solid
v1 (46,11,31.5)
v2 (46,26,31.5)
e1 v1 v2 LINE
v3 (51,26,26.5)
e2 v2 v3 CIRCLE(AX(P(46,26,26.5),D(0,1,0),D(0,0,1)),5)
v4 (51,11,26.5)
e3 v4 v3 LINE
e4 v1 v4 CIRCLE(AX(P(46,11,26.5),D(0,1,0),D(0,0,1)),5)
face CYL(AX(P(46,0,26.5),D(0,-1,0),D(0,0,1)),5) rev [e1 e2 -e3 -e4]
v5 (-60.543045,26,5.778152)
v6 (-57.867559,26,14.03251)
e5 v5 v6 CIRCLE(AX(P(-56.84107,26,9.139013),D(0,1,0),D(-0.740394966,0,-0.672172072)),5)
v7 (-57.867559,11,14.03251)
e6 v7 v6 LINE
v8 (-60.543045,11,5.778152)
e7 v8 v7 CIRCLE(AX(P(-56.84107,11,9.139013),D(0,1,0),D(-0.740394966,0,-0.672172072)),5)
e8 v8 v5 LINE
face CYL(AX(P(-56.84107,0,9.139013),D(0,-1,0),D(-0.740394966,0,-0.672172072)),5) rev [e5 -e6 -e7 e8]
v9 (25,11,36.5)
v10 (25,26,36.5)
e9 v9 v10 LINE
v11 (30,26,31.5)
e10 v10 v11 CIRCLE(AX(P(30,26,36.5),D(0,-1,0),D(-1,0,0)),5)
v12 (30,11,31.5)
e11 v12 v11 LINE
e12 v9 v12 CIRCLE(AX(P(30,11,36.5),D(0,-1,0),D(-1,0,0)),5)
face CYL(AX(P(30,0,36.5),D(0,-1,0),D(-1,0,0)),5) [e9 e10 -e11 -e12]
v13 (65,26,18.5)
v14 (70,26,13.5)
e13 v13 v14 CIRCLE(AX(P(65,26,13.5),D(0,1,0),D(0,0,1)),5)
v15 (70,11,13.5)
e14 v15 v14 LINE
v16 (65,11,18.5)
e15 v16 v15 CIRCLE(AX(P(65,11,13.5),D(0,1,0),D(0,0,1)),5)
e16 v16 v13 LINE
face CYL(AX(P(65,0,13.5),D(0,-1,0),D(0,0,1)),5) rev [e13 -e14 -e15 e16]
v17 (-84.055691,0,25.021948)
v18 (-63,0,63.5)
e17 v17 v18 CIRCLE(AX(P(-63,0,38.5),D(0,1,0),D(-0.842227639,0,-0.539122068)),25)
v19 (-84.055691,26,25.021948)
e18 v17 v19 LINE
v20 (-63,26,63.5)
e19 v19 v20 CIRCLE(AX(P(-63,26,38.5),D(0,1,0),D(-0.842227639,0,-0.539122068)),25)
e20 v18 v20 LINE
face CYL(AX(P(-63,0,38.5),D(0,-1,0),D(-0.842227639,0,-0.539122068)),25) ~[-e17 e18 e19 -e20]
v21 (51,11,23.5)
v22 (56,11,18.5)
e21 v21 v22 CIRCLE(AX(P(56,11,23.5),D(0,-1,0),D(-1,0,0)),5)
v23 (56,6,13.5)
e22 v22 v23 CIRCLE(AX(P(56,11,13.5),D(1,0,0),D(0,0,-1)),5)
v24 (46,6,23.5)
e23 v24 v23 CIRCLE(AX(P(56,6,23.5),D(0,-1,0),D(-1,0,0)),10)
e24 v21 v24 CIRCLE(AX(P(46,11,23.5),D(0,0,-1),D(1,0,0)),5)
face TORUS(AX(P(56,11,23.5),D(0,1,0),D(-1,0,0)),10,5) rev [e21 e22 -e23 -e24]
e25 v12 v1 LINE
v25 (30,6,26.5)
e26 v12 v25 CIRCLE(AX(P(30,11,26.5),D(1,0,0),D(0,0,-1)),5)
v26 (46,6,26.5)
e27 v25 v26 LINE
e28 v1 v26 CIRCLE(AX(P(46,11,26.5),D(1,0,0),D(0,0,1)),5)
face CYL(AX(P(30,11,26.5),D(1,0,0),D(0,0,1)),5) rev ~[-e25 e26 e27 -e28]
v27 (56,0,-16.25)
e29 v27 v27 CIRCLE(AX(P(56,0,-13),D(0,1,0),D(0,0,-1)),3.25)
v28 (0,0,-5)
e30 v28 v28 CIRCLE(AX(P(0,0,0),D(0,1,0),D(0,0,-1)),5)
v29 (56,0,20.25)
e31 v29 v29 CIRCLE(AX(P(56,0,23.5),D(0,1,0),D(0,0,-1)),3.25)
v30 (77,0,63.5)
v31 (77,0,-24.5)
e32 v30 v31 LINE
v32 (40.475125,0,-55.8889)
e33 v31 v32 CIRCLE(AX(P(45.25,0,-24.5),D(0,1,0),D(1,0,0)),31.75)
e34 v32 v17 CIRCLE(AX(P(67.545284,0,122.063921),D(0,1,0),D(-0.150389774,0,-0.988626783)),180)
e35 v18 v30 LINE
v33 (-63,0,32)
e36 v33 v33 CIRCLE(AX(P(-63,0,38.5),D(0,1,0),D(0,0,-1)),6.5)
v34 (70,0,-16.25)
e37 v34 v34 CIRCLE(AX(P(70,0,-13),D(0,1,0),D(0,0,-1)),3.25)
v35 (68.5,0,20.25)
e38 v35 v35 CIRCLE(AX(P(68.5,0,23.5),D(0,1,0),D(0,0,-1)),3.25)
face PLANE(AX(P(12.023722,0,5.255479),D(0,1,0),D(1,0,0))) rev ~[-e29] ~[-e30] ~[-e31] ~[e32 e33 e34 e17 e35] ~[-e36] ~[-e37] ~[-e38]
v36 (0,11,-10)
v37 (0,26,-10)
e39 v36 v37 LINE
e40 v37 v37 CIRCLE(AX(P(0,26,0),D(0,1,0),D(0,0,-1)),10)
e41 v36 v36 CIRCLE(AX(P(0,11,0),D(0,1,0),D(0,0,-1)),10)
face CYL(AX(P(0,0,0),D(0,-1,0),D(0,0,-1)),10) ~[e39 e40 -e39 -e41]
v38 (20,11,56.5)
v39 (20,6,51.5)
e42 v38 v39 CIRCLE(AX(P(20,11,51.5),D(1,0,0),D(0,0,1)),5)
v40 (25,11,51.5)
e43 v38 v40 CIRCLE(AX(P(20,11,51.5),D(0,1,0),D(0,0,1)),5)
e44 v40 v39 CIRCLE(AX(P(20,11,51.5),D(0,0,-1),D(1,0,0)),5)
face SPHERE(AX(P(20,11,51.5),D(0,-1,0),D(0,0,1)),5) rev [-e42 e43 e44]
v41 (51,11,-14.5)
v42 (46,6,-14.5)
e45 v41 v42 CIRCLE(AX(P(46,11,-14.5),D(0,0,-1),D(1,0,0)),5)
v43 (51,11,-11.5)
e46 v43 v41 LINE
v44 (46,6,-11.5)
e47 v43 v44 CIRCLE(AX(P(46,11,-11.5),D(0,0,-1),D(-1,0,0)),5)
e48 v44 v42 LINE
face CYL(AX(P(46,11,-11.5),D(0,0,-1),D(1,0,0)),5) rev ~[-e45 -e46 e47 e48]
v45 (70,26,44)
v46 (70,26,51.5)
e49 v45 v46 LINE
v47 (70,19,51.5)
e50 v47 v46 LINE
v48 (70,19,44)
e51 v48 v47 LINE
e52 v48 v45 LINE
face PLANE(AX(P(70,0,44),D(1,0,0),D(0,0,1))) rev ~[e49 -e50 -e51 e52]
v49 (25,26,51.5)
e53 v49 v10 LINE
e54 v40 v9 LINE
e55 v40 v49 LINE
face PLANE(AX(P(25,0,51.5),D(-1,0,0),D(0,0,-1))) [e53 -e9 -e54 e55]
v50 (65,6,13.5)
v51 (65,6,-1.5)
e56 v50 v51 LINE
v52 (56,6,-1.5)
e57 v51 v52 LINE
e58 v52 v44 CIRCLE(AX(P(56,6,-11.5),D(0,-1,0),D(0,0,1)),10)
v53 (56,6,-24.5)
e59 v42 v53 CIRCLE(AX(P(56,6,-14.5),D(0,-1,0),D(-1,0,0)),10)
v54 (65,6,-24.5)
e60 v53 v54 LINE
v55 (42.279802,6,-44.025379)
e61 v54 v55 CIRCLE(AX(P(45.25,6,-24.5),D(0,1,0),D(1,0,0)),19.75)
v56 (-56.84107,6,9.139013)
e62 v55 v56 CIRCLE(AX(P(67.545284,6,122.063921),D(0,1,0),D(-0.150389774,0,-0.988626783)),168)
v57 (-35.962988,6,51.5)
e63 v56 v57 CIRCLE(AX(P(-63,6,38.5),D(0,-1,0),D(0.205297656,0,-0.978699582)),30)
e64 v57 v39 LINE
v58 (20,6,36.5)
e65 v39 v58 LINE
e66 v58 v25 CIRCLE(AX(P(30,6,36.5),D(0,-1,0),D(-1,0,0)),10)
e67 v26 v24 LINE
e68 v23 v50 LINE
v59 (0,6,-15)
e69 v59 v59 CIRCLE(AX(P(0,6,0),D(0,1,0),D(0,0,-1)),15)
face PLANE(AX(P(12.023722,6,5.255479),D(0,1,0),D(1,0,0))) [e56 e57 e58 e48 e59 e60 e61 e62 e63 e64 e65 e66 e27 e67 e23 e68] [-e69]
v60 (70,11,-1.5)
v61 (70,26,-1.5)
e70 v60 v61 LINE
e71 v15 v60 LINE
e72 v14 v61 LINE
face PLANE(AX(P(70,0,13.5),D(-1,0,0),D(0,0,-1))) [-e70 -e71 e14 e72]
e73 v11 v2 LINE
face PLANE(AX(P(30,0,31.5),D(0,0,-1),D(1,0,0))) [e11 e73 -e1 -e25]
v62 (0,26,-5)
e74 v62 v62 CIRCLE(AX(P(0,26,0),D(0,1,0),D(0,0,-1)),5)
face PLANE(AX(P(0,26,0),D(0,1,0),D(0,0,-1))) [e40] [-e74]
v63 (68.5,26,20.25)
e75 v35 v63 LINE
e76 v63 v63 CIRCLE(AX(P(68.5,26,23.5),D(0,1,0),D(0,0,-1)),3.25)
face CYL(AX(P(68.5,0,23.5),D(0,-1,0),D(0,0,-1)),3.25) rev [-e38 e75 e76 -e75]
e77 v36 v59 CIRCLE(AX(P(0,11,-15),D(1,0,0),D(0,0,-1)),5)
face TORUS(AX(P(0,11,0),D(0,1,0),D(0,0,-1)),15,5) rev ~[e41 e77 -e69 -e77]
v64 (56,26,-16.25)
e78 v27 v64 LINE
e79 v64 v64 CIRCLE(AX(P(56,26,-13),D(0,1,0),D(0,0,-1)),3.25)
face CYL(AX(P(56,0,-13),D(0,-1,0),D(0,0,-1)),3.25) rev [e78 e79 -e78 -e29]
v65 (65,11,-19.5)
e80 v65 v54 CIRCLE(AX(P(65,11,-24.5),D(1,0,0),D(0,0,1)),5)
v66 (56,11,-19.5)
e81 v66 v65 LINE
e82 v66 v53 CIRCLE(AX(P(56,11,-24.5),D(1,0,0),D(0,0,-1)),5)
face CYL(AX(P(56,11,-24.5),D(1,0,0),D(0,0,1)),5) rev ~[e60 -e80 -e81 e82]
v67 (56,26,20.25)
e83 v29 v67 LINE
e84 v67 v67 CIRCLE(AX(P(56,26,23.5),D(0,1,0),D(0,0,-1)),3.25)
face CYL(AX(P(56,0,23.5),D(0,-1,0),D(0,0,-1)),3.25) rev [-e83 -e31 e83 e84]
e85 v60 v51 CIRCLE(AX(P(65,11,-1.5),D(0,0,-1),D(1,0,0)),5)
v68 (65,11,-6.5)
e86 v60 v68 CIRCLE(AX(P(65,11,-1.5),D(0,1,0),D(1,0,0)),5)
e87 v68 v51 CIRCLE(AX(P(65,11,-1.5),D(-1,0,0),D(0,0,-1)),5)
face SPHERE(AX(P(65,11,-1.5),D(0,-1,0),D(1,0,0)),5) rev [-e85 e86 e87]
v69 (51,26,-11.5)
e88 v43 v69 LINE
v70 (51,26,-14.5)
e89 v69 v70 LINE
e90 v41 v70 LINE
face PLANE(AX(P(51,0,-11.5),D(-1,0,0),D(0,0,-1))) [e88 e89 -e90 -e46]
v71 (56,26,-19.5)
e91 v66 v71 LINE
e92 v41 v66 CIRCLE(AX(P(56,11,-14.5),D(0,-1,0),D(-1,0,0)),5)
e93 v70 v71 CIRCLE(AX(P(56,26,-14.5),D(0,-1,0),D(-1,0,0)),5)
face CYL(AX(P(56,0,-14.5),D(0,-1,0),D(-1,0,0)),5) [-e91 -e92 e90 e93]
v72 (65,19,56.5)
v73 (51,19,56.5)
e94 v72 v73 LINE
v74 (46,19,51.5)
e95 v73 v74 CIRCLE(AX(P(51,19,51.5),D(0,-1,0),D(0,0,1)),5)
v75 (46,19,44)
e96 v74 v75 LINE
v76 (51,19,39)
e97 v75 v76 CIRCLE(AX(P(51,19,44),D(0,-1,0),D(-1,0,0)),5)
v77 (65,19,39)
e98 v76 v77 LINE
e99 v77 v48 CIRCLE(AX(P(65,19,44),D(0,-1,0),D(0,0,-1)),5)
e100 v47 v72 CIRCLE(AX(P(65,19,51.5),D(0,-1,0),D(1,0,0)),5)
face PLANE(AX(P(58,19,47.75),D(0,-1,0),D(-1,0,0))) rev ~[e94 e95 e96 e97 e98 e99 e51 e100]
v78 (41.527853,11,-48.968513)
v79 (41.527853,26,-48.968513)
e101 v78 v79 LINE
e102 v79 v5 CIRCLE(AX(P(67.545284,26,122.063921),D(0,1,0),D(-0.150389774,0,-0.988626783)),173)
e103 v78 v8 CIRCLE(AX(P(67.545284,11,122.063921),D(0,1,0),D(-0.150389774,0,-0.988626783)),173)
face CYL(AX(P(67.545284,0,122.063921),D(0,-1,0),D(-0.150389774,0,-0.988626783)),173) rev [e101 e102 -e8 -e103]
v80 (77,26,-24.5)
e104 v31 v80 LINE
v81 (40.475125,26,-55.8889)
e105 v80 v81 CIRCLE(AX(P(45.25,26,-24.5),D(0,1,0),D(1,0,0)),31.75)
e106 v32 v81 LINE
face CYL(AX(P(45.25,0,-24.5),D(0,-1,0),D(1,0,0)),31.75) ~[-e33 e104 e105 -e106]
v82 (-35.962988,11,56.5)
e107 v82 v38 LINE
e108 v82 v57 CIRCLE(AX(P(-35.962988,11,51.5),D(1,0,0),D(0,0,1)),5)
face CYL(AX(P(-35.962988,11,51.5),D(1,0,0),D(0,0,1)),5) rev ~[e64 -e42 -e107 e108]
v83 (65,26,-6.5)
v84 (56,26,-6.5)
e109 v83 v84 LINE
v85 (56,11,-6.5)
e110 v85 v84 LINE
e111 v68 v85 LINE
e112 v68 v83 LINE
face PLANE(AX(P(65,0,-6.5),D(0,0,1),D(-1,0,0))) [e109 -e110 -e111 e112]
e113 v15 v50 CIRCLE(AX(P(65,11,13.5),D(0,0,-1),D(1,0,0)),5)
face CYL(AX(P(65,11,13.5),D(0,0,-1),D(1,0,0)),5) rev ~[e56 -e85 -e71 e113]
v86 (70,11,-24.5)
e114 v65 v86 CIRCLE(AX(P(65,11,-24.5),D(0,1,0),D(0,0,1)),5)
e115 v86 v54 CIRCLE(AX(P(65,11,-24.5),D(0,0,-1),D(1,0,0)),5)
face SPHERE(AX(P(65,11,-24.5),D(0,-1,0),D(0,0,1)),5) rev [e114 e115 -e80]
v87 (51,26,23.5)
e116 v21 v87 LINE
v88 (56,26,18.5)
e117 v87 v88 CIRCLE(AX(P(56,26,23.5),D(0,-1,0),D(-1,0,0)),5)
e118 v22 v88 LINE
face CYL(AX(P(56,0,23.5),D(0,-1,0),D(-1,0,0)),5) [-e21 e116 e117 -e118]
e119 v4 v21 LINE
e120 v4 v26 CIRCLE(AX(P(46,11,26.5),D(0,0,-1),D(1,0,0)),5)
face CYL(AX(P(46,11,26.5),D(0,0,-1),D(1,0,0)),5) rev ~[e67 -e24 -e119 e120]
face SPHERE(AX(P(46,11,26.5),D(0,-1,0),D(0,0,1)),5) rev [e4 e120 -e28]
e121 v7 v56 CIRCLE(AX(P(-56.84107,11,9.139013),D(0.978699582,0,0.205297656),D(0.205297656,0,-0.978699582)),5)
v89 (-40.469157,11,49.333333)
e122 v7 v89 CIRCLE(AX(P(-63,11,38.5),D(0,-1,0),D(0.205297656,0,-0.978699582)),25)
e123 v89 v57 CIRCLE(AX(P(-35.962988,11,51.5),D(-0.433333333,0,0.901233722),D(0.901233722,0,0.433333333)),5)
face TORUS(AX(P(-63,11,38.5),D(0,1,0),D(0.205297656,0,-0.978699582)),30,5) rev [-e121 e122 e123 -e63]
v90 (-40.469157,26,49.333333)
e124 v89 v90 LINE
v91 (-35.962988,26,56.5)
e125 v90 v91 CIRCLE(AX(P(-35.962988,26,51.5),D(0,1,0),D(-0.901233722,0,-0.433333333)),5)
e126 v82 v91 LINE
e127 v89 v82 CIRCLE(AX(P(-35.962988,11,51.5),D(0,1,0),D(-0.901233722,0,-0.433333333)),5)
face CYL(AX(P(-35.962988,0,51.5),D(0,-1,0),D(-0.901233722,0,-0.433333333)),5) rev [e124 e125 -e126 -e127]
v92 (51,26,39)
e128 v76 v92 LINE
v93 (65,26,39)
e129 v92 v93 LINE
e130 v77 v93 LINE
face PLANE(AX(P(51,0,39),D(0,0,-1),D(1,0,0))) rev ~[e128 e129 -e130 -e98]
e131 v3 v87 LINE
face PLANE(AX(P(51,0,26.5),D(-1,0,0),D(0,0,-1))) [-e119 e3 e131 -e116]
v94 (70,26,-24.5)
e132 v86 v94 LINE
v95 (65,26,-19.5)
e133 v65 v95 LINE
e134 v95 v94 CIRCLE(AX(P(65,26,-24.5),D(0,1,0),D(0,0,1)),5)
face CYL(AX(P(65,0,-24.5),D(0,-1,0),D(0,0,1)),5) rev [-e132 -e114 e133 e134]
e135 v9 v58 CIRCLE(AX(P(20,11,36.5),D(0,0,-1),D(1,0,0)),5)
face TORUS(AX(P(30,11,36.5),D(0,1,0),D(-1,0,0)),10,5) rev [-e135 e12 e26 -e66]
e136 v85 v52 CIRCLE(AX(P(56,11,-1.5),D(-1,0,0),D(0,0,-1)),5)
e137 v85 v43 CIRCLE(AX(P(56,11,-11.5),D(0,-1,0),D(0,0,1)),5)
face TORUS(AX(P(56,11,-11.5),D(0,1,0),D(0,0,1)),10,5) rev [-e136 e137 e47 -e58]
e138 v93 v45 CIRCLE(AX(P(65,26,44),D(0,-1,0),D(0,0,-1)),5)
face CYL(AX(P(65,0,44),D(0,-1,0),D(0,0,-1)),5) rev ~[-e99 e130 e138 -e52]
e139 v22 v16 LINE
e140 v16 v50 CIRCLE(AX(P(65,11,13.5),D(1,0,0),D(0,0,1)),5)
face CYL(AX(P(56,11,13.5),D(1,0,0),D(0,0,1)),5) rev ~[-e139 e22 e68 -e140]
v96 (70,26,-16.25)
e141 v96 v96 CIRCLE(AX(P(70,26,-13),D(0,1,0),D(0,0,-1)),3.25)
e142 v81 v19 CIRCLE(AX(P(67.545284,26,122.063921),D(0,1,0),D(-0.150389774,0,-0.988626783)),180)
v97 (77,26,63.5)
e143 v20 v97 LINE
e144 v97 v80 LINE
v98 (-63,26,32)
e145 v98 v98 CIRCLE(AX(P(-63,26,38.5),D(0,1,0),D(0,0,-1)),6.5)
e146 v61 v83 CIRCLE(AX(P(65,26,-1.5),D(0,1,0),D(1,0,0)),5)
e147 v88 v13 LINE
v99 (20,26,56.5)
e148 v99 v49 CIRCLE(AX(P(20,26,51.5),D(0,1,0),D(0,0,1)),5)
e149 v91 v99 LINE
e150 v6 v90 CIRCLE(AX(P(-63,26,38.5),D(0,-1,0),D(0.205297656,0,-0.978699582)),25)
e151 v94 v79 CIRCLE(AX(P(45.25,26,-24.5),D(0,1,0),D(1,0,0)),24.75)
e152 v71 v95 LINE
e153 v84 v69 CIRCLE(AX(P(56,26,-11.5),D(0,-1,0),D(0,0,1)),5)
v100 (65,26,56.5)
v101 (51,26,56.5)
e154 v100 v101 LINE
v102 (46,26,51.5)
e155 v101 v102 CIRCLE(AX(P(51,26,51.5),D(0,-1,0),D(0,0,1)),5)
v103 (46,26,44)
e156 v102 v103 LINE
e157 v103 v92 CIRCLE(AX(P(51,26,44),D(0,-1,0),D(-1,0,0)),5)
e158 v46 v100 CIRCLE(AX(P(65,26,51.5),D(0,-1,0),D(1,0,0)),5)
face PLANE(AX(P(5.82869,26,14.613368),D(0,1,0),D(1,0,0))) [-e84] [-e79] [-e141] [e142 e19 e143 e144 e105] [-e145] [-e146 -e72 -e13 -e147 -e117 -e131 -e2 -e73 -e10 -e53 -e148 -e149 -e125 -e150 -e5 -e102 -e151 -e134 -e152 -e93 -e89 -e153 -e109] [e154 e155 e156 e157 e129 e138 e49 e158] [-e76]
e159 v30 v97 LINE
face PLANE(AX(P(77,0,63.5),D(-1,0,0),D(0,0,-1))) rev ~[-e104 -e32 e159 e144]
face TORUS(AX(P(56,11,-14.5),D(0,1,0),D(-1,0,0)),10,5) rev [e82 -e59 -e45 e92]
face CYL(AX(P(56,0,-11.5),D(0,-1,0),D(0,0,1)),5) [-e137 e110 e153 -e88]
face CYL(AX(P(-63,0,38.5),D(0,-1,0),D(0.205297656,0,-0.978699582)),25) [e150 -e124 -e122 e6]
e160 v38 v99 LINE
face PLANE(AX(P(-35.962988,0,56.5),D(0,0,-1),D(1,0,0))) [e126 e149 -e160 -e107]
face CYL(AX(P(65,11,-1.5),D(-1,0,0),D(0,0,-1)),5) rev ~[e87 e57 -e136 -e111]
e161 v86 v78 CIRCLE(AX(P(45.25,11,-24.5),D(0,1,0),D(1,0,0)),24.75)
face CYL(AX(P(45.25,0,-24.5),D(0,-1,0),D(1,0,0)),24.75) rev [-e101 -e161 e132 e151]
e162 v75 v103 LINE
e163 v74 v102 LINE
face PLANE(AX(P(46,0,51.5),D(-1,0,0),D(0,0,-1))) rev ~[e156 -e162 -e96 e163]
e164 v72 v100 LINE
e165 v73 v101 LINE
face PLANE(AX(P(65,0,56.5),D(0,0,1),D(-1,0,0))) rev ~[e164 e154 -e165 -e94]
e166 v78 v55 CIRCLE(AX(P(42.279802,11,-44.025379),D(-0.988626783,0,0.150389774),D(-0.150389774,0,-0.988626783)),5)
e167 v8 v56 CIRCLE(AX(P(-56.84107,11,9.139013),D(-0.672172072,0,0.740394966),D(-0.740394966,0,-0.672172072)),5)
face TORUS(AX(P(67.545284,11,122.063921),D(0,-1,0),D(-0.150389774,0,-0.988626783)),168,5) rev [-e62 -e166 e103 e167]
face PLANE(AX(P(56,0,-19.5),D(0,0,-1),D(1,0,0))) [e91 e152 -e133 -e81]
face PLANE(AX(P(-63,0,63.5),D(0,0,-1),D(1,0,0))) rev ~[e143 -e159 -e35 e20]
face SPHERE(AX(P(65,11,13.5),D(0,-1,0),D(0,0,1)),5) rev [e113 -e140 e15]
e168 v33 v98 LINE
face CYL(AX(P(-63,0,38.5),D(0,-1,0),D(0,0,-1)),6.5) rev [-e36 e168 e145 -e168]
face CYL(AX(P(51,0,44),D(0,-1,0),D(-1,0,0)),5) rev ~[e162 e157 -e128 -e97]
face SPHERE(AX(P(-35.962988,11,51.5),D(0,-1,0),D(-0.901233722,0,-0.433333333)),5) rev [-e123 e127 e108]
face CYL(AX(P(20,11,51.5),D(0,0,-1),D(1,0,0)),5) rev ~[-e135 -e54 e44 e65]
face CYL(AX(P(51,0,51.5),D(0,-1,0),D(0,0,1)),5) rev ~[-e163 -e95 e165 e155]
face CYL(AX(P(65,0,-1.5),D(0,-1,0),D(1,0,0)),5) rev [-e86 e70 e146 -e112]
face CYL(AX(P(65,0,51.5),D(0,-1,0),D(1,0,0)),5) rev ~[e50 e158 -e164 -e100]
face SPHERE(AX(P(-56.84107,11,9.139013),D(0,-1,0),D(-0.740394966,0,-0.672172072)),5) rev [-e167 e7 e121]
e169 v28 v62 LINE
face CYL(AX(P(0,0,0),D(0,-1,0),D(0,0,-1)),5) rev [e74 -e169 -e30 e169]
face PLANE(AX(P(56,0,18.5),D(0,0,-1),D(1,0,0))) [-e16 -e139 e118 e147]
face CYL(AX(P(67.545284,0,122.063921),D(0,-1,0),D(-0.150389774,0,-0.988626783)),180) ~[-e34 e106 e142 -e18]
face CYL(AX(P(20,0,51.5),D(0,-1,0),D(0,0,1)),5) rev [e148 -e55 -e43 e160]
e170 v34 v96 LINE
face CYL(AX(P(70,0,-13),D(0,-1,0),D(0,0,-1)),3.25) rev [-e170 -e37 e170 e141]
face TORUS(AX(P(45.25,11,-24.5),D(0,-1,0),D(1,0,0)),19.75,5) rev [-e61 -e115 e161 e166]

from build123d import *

# Parameters (mm, degrees)
SKETCH1_R             = 6.5
SKETCH1_R_2           = 3.25
BOSS_EXTRUDE1_DEPTH   = 26
SKETCH1_R_3           = 10
SKETCH1_R_4           = 5
BOSS_EXTRUDE1_2_DEPTH = 26
BOSS_EXTRUDE2_DEPTH   = 19
SKETCH1_4_R           = 10
BOSS_EXTRUDE3_DEPTH   = 6
FILLET1_R             = 5


with BuildPart() as part:
    # Sketch1 → Boss-Extrude1 (new body)
    with BuildSketch(Plane(origin=(0, 0, 0), x_dir=(1, 0, 0), z_dir=(0, 1, 0))):
        with BuildLine():
            ThreePointArc((-84.055690971, -25.021948297), (-84.931156976, -50.501014695), (-63, -63.5))
            Line((-63, -63.5), (77, -63.5))
            Line((77, -63.5), (77, 24.5))
            ThreePointArc((77, 24.5), (65.94372137, 48.579709215), (40.47512467, 55.888900356))
            ThreePointArc((40.47512467, 55.888900356), (-30.523492454, 28.874858685), (-84.055690971, -25.021948297))
        make_face()
        with Locations((-63, -38.5)):
            Circle(SKETCH1_R, mode=Mode.SUBTRACT)
        with BuildLine():
            Line((65, -56.5), (51, -56.5))
            ThreePointArc((51, -56.5), (47.464466094, -55.035533906), (46, -51.5))
            Line((46, -51.5), (46, -44))
            ThreePointArc((46, -44), (47.464466094, -40.464466094), (51, -39))
            Line((51, -39), (65, -39))
            ThreePointArc((65, -39), (68.535533906, -40.464466094), (70, -44))
            Line((70, -44), (70, -51.5))
            ThreePointArc((70, -51.5), (68.535533906, -55.035533906), (65, -56.5))
        make_face(mode=Mode.SUBTRACT)
        with Locations((56, -23.5)):
            Circle(SKETCH1_R_2, mode=Mode.SUBTRACT)
        with Locations((68.5, -23.5)):
            Circle(SKETCH1_R_2, mode=Mode.SUBTRACT)
        with BuildLine():
            Line((20, -56.5), (-35.962988331, -56.5))
            ThreePointArc((-35.962988331, -56.5), (-40.195796697, -54.161453237), (-40.469156942, -49.333333333))
            ThreePointArc((-40.469156942, -49.333333333), (-40.575652719, -27.447912005), (-57.867558599, -14.032510442))
            ThreePointArc((-57.867558599, -14.032510442), (-61.597455339, -10.680700417), (-60.54304515, -5.778152172))
            ThreePointArc((-60.54304515, -5.778152172), (-14.225405457, 30.391169029), (41.527853089, 48.968512876))
            ThreePointArc((41.527853089, 48.968512876), (61.381326107, 43.270796947), (70, 24.5))
            ThreePointArc((70, 24.5), (68.535533906, 20.964466094), (65, 19.5))
            Line((65, 19.5), (56, 19.5))
            ThreePointArc((56, 19.5), (52.464466094, 18.035533906), (51, 14.5))
            Line((51, 14.5), (51, 11.5))
            ThreePointArc((51, 11.5), (52.464466094, 7.964466094), (56, 6.5))
            Line((56, 6.5), (65, 6.5))
            ThreePointArc((65, 6.5), (68.535533906, 5.035533906), (70, 1.5))
            Line((70, 1.5), (70, -13.5))
            ThreePointArc((70, -13.5), (68.535533906, -17.035533906), (65, -18.5))
            Line((65, -18.5), (56, -18.5))
            ThreePointArc((56, -18.5), (52.464466094, -19.964466094), (51, -23.5))
            Line((51, -23.5), (51, -26.5))
            ThreePointArc((51, -26.5), (49.535533906, -30.035533906), (46, -31.5))
            Line((46, -31.5), (30, -31.5))
            ThreePointArc((30, -31.5), (26.464466094, -32.964466094), (25, -36.5))
            Line((25, -36.5), (25, -51.5))
            ThreePointArc((25, -51.5), (23.535533906, -55.035533906), (20, -56.5))
        make_face(mode=Mode.SUBTRACT)
        with Locations((56, 13)):
            Circle(SKETCH1_R_2, mode=Mode.SUBTRACT)
        with Locations((70, 13)):
            Circle(SKETCH1_R_2, mode=Mode.SUBTRACT)
    extrude(amount=BOSS_EXTRUDE1_DEPTH)

    # Sketch1<3> → Boss-Extrude2 (add)
    with BuildSketch(Plane(origin=(0, 0, 0), x_dir=(1, 0, 0), z_dir=(0, 1, 0))):
        with BuildLine():
            ThreePointArc((46, -51.5), (47.464466094, -55.035533906), (51, -56.5))
            Line((51, -56.5), (65, -56.5))
            ThreePointArc((65, -56.5), (68.535533906, -55.035533906), (70, -51.5))
            Line((70, -51.5), (70, -44))
            ThreePointArc((70, -44), (68.535533906, -40.464466094), (65, -39))
            Line((65, -39), (51, -39))
            ThreePointArc((51, -39), (47.464466094, -40.464466094), (46, -44))
            Line((46, -44), (46, -51.5))
        make_face()
    extrude(amount=BOSS_EXTRUDE2_DEPTH)



with BuildPart() as body_2:
    # Sketch1 → Boss-Extrude1 2 (new body)
    with BuildSketch(Plane(origin=(0, 0, 0), x_dir=(1, 0, 0), z_dir=(0, 1, 0))):
        Circle(SKETCH1_R_3)
        Circle(SKETCH1_R_4, mode=Mode.SUBTRACT)
    extrude(amount=BOSS_EXTRUDE1_2_DEPTH)


with BuildPart() as part_1:
    add(part.part)

    add(body_2.part)  # Boss-Extrude3 merges body 2
    # Sketch1<4> → Boss-Extrude3 (add)
    with BuildSketch(Plane(origin=(0, 0, 0), x_dir=(1, 0, 0), z_dir=(0, 1, 0))):
        with BuildLine():
            ThreePointArc((-40.469156942, -49.333333333), (-40.195796697, -54.161453237), (-35.962988331, -56.5))
            Line((-35.962988331, -56.5), (20, -56.5))
            ThreePointArc((20, -56.5), (23.535533906, -55.035533906), (25, -51.5))
            Line((25, -51.5), (25, -36.5))
            ThreePointArc((25, -36.5), (26.464466094, -32.964466094), (30, -31.5))
            Line((30, -31.5), (46, -31.5))
            ThreePointArc((46, -31.5), (49.535533906, -30.035533906), (51, -26.5))
            Line((51, -26.5), (51, -23.5))
            ThreePointArc((51, -23.5), (52.464466094, -19.964466094), (56, -18.5))
            Line((56, -18.5), (65, -18.5))
            ThreePointArc((65, -18.5), (68.535533906, -17.035533906), (70, -13.5))
            Line((70, -13.5), (70, 1.5))
            ThreePointArc((70, 1.5), (68.535533906, 5.035533906), (65, 6.5))
            Line((65, 6.5), (56, 6.5))
            ThreePointArc((56, 6.5), (52.464466094, 7.964466094), (51, 11.5))
            Line((51, 11.5), (51, 14.5))
            ThreePointArc((51, 14.5), (52.464466094, 18.035533906), (56, 19.5))
            Line((56, 19.5), (65, 19.5))
            ThreePointArc((65, 19.5), (68.535533906, 20.964466094), (70, 24.5))
            ThreePointArc((70, 24.5), (61.381326107, 43.270796947), (41.527853089, 48.968512876))
            ThreePointArc((41.527853089, 48.968512876), (-14.225405457, 30.391169029), (-60.54304515, -5.778152172))
            ThreePointArc((-60.54304515, -5.778152172), (-61.597455339, -10.680700417), (-57.867558599, -14.032510442))
            ThreePointArc((-57.867558599, -14.032510442), (-40.575652719, -27.447912005), (-40.469156942, -49.333333333))
        make_face()
        Circle(SKETCH1_4_R, mode=Mode.SUBTRACT)
    extrude(amount=BOSS_EXTRUDE3_DEPTH)

    # Fillet1
    fillet1_edges = [part_1.edges().sort_by_distance(p)[0] for p in [
        (-40.195796697, 6, 54.161453237),
        (-40.575652719, 6, 27.447912005),
        (-61.597455339, 6, 10.680700417),
        (-14.225405457, 6, -30.391169029),
        (61.381326107, 6, -43.270796947),
        (68.535533906, 6, -20.964466094),
        (60.5, 6, -19.5),
        (52.464466094, 6, -18.035533906),
        (51, 6, -13),
        (52.464466094, 6, -7.964466094),
        (60.5, 6, -6.5),
        (68.535533906, 6, -5.035533906),
        (70, 6, 6),
        (68.535533906, 6, 17.035533906),
        (60.5, 6, 18.5),
        (52.464466094, 6, 19.964466094),
        (51, 6, 25),
        (49.535533906, 6, 30.035533906),
        (38, 6, 31.5),
        (26.464466094, 6, 32.964466094),
        (25, 6, 44),
        (23.535533906, 6, 55.035533906),
        (-7.981494165, 6, 56.5),
        (-10, 6, 0),
    ]]
    fillet(fillet1_edges, radius=FILLET1_R)


solid = part_1.part
